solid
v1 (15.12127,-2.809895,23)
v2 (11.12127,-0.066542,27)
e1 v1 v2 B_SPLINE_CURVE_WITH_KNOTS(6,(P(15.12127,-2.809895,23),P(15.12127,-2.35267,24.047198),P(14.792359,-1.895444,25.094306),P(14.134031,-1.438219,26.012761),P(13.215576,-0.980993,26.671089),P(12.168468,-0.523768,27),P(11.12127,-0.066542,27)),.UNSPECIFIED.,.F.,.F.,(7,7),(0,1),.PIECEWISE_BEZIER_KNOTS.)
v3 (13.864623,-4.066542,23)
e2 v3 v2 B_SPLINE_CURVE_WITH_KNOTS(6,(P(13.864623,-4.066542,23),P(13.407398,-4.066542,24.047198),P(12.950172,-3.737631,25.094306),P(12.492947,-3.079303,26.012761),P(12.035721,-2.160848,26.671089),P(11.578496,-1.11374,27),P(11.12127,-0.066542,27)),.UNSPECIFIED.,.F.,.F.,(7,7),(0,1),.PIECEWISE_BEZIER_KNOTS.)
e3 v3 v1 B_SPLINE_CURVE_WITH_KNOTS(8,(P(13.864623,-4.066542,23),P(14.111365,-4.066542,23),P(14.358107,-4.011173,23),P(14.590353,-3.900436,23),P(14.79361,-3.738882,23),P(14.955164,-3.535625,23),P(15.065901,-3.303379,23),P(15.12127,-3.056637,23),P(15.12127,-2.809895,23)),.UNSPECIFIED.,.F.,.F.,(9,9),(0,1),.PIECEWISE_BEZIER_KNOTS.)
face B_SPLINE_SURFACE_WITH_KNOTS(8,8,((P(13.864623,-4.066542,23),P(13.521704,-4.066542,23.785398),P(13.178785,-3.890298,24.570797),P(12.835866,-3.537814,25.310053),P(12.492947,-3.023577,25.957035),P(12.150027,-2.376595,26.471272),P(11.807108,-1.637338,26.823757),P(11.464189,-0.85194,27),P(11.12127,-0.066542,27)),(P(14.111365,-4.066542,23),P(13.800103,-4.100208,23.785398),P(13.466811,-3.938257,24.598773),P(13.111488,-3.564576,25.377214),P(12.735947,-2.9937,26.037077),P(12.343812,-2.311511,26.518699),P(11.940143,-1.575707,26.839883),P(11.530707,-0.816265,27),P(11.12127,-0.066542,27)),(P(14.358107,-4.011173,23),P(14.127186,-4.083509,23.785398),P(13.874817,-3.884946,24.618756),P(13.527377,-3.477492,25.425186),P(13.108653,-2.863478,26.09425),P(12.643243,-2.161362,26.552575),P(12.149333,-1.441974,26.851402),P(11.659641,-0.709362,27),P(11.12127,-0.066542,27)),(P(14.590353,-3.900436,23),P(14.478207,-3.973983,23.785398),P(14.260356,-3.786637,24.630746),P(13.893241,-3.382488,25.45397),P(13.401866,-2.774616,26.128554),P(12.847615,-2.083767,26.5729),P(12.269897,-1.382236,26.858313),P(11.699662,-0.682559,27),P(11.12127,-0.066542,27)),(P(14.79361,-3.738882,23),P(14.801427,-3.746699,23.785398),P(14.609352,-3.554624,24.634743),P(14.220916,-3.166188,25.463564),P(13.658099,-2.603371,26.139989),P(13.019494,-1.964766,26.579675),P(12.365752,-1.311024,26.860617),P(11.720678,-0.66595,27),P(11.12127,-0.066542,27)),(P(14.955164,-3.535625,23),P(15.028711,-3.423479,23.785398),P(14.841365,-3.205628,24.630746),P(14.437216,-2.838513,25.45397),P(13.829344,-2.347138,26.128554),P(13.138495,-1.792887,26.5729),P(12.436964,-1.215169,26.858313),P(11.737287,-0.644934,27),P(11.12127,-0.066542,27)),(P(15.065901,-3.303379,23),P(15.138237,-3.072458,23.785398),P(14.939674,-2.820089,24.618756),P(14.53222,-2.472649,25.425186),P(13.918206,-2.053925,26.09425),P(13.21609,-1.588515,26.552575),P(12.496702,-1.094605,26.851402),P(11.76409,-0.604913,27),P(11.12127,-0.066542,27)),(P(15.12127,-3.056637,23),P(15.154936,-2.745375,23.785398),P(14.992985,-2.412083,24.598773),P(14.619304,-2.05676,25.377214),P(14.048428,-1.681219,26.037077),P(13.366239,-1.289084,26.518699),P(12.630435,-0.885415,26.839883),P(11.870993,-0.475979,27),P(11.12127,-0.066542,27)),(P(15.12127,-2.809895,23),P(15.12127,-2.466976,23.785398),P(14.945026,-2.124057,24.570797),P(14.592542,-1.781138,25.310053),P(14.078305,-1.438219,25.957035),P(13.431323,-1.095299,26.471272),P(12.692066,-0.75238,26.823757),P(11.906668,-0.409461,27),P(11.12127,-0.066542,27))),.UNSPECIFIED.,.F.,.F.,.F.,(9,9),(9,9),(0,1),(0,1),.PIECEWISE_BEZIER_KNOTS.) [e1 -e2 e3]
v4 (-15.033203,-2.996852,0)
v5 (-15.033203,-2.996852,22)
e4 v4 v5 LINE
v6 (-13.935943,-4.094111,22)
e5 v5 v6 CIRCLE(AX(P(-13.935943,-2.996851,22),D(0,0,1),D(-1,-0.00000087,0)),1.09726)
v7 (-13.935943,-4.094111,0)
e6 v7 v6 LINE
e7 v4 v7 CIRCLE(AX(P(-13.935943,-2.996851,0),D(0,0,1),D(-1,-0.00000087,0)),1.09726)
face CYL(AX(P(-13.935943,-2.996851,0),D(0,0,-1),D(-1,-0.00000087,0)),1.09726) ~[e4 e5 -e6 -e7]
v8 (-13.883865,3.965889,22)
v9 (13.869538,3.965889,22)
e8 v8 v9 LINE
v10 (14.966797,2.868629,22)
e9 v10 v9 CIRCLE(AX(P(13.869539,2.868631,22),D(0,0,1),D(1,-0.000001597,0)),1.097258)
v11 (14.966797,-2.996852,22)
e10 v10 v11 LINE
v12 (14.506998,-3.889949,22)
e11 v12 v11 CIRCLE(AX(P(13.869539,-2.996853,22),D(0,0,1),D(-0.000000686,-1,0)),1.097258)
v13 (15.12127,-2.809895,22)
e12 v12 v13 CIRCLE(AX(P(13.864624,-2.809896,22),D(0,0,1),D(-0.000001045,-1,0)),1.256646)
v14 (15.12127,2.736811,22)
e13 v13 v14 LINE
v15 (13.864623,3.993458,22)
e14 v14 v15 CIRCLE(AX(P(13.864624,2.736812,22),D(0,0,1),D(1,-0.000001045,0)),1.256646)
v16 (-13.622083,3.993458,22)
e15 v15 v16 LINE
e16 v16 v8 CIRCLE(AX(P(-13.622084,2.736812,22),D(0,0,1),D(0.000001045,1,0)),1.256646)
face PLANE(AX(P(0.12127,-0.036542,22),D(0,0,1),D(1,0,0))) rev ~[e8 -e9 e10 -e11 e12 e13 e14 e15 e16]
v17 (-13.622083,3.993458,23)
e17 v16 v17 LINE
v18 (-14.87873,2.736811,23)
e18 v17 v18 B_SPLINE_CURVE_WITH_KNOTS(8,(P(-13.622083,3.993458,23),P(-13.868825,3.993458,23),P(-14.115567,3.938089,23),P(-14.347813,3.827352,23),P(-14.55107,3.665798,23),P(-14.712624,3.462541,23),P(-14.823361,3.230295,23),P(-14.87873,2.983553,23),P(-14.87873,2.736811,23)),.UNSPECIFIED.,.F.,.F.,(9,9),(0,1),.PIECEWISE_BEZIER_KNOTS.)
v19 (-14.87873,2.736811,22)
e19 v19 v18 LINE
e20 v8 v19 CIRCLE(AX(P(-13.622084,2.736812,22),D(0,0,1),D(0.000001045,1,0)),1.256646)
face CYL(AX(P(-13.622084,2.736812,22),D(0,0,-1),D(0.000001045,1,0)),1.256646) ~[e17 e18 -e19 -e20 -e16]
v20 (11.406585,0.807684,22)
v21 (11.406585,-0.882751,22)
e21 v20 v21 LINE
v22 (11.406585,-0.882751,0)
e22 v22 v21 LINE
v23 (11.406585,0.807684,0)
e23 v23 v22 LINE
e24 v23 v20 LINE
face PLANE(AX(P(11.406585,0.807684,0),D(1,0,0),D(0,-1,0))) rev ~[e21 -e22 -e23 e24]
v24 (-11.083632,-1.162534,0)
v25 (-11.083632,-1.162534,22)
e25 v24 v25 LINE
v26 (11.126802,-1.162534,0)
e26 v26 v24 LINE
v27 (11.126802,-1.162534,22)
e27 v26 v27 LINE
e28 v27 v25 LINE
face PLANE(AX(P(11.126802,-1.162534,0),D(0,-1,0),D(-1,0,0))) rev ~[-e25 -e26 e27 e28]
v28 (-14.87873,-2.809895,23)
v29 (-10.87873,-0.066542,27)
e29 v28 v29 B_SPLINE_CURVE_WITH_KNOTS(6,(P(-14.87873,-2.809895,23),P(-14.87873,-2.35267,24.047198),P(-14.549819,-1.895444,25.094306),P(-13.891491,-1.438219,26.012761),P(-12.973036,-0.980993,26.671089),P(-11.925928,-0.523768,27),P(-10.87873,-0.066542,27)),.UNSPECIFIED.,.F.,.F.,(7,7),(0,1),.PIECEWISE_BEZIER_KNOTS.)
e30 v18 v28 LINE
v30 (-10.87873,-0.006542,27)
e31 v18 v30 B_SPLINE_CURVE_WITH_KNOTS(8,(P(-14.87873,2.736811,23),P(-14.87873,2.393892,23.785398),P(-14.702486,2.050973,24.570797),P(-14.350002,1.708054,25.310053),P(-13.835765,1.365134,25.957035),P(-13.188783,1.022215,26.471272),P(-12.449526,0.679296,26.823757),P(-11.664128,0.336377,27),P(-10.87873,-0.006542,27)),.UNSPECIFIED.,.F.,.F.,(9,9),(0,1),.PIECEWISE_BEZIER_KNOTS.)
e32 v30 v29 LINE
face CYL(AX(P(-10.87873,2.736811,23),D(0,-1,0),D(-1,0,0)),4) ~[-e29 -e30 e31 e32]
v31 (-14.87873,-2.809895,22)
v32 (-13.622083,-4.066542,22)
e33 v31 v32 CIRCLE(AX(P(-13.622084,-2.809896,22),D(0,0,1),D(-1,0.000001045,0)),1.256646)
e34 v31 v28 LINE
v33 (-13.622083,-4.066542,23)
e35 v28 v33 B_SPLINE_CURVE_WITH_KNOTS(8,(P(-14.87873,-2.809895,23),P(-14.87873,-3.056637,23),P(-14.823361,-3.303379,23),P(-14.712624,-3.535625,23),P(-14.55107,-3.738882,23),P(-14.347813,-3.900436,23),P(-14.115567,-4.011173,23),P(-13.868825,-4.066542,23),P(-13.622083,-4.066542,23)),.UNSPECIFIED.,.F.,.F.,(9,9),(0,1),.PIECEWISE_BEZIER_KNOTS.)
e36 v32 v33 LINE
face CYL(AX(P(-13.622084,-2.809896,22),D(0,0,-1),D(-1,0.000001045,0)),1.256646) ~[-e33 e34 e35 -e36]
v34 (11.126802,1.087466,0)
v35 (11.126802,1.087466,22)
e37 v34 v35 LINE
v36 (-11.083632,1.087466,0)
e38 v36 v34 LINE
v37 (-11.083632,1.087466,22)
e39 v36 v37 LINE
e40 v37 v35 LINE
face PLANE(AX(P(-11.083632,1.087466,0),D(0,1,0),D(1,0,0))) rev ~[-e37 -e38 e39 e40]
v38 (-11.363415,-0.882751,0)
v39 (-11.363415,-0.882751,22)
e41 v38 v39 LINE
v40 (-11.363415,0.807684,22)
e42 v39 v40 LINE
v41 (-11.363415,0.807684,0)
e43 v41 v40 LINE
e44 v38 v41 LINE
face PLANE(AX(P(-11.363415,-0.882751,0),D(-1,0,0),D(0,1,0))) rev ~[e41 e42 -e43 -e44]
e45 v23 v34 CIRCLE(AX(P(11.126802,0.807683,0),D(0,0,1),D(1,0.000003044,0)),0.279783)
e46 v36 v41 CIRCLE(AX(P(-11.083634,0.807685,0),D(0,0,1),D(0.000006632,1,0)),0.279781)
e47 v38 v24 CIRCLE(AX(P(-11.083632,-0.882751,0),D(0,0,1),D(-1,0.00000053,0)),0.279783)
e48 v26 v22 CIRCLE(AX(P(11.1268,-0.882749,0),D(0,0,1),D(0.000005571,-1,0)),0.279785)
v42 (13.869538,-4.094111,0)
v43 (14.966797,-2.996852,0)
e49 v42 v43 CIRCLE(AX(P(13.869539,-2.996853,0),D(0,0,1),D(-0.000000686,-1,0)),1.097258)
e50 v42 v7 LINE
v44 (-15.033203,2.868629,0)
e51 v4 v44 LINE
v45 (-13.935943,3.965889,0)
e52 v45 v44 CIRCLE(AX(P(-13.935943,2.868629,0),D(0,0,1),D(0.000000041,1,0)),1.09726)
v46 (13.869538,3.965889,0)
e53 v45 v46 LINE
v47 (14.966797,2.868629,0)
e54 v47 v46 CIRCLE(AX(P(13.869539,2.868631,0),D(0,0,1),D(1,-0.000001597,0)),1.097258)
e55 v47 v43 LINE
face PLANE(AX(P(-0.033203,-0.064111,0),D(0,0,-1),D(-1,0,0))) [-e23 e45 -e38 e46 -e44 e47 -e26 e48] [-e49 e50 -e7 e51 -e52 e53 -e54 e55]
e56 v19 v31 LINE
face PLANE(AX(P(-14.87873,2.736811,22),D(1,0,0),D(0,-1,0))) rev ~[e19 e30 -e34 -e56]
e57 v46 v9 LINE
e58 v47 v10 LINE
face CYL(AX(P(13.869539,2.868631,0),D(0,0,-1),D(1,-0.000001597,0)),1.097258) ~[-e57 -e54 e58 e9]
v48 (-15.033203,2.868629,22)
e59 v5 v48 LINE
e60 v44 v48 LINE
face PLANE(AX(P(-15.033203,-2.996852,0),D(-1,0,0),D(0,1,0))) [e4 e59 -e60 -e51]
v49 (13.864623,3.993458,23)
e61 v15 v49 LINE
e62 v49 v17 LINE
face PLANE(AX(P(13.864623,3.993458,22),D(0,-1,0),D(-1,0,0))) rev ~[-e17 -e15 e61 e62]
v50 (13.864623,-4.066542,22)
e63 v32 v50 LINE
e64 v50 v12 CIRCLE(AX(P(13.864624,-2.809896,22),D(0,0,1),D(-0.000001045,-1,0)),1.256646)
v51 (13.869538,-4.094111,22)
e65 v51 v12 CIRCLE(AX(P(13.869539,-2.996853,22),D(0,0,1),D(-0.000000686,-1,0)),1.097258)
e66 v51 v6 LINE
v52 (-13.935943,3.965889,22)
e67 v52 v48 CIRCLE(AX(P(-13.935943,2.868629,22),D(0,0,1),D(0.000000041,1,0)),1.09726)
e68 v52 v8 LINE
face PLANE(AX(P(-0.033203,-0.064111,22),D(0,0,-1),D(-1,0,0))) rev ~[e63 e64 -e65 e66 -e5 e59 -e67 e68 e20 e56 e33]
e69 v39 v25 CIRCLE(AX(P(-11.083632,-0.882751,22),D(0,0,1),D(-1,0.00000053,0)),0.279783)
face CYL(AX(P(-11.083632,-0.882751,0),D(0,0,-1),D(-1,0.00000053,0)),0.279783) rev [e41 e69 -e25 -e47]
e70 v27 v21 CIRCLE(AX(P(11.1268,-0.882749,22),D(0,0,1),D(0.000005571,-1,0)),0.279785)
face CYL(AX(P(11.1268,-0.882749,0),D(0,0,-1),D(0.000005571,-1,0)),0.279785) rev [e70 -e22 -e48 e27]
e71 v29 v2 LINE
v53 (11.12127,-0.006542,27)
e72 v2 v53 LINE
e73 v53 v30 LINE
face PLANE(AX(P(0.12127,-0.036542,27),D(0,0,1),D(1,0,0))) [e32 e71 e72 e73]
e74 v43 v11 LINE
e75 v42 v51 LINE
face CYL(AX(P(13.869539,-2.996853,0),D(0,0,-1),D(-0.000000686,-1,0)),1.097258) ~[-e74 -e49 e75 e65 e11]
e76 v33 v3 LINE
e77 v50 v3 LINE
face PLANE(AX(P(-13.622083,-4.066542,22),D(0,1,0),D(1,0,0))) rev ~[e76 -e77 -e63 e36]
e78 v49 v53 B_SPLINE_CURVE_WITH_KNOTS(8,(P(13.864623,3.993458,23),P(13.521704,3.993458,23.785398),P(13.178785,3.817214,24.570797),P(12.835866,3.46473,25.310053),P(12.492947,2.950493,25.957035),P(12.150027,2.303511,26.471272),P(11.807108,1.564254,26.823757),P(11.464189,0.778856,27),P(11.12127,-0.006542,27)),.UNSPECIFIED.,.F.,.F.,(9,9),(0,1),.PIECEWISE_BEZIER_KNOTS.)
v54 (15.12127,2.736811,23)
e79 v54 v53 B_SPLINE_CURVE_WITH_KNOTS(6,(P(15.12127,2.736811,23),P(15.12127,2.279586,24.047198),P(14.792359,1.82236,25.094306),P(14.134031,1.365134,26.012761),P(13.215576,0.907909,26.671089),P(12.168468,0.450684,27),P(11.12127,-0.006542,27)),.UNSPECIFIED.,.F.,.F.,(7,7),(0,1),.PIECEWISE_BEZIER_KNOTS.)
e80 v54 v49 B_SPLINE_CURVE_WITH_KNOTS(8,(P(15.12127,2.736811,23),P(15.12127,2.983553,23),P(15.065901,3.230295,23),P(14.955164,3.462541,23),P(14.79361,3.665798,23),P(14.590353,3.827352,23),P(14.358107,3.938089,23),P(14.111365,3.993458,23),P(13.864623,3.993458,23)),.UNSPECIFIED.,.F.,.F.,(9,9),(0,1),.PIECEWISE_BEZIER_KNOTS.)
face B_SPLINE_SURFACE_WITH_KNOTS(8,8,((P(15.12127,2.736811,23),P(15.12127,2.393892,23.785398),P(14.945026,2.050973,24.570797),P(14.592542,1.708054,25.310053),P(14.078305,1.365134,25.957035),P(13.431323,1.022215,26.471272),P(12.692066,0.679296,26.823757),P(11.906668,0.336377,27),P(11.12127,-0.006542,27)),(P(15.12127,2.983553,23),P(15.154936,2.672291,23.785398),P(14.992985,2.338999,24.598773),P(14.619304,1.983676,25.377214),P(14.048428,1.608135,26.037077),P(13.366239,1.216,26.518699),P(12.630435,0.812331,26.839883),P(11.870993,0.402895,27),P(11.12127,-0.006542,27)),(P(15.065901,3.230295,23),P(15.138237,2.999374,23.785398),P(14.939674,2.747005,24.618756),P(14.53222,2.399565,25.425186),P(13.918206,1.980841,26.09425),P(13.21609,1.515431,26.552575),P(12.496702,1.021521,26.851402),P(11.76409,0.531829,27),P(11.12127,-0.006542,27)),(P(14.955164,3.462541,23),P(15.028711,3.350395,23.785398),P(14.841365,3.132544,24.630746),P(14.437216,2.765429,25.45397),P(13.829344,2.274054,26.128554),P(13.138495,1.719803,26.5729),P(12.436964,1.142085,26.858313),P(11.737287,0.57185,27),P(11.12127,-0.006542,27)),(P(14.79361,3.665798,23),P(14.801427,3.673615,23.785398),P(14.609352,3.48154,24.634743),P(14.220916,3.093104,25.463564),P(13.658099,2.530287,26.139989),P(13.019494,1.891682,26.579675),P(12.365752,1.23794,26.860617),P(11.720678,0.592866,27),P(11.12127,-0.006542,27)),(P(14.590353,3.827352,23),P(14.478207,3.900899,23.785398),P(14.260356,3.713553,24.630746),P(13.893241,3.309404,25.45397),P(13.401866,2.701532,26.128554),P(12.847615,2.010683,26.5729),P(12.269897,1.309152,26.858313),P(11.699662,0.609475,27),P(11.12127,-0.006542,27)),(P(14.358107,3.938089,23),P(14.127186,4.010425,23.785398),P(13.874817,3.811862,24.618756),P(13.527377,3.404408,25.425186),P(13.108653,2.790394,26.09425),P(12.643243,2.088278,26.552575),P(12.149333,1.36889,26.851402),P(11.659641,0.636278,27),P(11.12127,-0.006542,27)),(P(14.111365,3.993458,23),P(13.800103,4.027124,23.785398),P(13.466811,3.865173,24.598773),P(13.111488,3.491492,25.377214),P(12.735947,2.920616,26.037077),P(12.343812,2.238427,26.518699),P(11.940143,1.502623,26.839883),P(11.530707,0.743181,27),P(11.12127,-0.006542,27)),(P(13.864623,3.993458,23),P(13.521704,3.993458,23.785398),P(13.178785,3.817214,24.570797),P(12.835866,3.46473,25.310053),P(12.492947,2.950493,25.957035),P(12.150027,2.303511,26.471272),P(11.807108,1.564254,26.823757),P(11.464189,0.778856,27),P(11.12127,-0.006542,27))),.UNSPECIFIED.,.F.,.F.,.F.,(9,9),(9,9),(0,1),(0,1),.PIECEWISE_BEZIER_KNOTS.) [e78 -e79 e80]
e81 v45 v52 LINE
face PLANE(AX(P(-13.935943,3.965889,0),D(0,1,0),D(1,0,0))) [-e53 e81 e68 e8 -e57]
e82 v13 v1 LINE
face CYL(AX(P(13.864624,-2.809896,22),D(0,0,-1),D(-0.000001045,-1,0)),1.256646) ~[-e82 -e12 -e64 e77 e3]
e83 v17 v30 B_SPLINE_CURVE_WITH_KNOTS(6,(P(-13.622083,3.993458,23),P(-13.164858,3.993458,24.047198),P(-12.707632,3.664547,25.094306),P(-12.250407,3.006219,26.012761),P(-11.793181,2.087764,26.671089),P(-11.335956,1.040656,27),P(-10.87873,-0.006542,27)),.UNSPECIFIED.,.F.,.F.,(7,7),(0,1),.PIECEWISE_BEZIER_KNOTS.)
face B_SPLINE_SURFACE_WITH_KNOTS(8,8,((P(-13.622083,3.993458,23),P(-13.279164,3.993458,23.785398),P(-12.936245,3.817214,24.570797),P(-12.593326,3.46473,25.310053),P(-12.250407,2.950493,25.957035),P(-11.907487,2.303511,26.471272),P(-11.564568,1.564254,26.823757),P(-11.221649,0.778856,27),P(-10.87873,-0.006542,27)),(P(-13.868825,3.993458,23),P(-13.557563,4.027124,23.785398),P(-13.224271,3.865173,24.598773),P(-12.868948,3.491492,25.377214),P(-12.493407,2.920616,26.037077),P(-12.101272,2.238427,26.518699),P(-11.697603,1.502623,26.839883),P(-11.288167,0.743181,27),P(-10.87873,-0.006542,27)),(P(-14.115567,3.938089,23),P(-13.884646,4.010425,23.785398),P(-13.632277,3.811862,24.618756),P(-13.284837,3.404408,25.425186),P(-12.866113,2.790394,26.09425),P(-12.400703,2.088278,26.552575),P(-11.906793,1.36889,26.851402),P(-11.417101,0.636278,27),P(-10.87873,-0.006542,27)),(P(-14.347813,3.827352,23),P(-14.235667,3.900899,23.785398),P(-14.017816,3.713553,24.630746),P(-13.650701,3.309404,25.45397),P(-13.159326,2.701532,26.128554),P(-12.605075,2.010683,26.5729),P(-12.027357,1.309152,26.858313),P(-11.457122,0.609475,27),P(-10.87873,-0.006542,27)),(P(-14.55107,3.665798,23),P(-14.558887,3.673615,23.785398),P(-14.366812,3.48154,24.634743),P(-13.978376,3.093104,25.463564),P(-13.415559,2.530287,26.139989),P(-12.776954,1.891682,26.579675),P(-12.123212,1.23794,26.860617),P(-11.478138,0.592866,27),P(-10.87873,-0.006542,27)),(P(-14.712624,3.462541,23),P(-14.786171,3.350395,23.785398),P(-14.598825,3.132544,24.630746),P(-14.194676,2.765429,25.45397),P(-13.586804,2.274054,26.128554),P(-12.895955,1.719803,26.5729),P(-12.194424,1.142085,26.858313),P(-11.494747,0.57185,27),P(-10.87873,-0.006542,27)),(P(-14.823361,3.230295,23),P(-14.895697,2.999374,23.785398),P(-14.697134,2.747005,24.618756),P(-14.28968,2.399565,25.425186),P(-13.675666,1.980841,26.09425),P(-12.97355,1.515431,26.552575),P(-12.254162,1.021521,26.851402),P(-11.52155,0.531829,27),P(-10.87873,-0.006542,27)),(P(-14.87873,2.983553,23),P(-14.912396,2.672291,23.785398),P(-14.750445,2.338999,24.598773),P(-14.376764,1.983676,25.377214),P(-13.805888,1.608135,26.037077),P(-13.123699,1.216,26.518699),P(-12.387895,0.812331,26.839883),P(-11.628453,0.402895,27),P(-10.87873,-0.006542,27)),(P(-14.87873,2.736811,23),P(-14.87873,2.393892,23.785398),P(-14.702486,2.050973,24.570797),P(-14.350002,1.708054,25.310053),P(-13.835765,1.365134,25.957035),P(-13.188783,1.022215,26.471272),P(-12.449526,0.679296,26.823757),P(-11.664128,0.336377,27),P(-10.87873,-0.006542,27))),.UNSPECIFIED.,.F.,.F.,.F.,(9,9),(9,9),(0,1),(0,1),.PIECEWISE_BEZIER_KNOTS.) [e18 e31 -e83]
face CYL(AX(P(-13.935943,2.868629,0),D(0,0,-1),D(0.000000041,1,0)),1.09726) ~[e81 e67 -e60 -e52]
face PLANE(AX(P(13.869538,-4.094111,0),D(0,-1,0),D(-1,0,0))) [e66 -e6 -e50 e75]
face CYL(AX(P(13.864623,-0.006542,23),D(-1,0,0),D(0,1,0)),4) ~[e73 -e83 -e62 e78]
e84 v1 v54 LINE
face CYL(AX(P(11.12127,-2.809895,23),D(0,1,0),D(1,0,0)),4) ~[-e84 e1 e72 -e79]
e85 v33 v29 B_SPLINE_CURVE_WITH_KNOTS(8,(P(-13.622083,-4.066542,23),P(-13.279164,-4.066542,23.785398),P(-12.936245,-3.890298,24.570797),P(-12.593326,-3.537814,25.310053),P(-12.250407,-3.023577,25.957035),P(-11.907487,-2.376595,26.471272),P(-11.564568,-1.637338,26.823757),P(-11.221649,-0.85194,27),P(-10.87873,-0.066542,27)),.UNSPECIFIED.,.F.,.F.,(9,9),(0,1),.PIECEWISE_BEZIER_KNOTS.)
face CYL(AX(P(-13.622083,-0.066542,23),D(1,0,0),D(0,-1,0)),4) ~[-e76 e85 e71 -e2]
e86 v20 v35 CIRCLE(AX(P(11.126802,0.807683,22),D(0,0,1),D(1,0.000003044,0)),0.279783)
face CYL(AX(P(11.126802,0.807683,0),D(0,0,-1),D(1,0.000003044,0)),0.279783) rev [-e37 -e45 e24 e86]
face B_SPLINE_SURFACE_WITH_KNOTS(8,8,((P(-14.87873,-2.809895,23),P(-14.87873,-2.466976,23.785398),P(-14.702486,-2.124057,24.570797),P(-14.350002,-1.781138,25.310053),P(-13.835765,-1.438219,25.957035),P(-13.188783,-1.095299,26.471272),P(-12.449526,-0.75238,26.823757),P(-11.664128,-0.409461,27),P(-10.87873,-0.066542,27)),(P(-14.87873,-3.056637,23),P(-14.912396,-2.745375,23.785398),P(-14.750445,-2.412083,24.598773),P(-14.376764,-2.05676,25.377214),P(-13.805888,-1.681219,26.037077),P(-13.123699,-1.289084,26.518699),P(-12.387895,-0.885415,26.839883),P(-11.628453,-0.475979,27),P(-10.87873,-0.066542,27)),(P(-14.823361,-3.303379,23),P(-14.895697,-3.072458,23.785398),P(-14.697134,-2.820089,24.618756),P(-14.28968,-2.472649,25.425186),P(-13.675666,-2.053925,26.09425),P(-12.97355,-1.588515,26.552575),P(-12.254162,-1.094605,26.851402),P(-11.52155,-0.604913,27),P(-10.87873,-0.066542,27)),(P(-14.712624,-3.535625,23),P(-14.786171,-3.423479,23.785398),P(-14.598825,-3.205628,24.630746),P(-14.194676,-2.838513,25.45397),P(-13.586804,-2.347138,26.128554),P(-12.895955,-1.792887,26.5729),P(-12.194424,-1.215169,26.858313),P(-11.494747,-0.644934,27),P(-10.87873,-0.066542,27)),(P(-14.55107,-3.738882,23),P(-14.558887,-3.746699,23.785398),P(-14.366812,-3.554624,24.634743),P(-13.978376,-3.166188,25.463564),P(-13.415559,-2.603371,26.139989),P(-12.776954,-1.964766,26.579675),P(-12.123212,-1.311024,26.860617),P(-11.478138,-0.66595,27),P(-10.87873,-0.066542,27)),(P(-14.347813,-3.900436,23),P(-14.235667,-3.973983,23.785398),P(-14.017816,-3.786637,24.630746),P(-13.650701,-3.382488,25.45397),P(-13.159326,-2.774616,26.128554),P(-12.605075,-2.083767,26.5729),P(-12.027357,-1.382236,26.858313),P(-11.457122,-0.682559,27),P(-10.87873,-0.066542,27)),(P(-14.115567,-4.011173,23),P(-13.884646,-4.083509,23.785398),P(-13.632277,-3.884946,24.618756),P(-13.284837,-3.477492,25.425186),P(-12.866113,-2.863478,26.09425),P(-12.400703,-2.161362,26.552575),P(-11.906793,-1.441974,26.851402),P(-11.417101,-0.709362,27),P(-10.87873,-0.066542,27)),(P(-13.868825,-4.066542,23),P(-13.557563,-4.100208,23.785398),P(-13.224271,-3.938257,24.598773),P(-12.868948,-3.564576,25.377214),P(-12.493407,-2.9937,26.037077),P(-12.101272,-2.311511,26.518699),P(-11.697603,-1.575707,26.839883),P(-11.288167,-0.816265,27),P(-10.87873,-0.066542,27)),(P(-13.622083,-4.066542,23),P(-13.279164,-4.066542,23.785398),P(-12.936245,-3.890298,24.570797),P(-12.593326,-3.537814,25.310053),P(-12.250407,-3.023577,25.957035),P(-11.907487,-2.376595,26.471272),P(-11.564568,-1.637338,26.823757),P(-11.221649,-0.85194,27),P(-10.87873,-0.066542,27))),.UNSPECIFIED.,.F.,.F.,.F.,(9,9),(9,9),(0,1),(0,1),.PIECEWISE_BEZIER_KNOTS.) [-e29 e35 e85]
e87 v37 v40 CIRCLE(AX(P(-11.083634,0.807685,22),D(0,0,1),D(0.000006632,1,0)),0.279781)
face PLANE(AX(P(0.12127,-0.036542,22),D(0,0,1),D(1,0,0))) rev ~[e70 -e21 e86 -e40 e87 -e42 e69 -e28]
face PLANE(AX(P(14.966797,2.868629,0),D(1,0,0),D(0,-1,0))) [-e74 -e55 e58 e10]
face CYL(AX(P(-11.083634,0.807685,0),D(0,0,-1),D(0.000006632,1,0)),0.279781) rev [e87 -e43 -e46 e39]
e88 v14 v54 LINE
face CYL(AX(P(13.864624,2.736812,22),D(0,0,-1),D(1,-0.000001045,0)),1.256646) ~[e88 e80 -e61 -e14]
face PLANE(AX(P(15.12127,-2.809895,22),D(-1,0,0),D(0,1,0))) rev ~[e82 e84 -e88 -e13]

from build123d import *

# Parameters (mm, degrees)
PAD_DEPTH    = 22
PAD001_DEPTH = 5
FILLET_R     = 4


with BuildPart() as part:
    # Sketch → Pad (new body)
    with BuildSketch(Plane.XY):
        with BuildLine():
            Line((-15.033203, -2.996852), (-15.033203, 2.868629))
            ThreePointArc((-13.935943, 3.965889), (-14.711823, 3.644509), (-15.033203, 2.868629))
            Line((-13.935943, 3.965889), (13.869538, 3.965889))
            ThreePointArc((14.966797, 2.868629), (14.645418, 3.644509), (13.869538, 3.965889))
            Line((14.966797, 2.868629), (14.966797, -2.996852))
            ThreePointArc((13.869538, -4.094111), (14.645418, -3.772731), (14.966797, -2.996852))
            Line((13.869538, -4.094111), (-13.935943, -4.094111))
            ThreePointArc((-15.033203, -2.996852), (-14.711823, -3.772731), (-13.935943, -4.094111))
        make_face()
        with BuildLine():
            Line((-11.363415, -0.882751), (-11.363415, 0.807684))
            ThreePointArc((-11.083632, 1.087466), (-11.281469, 1.00552), (-11.363415, 0.807684))
            Line((-11.083632, 1.087466), (11.126802, 1.087466))
            ThreePointArc((11.406585, 0.807684), (11.324638, 1.00552), (11.126802, 1.087466))
            Line((11.406585, 0.807684), (11.406585, -0.882751))
            ThreePointArc((11.126802, -1.162534), (11.324638, -1.080587), (11.406585, -0.882751))
            Line((11.126802, -1.162534), (-11.083632, -1.162534))
            ThreePointArc((-11.363415, -0.882751), (-11.281469, -1.080587), (-11.083632, -1.162534))
        make_face(mode=Mode.SUBTRACT)
    extrude(amount=PAD_DEPTH)

    # Sketch001 (on Face18 of Pad) → Pad001 (join)
    with BuildSketch(Plane.XY.offset(22)):
        with BuildLine():
            Line((15.12127, -2.809895), (15.12127, 2.736811))
            ThreePointArc((15.12127, 2.736811), (14.753207, 3.625395), (13.864623, 3.993458))
            Line((13.864623, 3.993458), (-13.622083, 3.993458))
            ThreePointArc((-13.622083, 3.993458), (-14.510667, 3.625395), (-14.87873, 2.736811))
            Line((-14.87873, 2.736811), (-14.87873, -2.809895))
            ThreePointArc((-14.87873, -2.809895), (-14.510667, -3.698479), (-13.622083, -4.066542))
            Line((-13.622083, -4.066542), (13.864623, -4.066542))
            ThreePointArc((13.864623, -4.066542), (14.753207, -3.698479), (15.12127, -2.809895))
        make_face()
    extrude(amount=PAD001_DEPTH)

    # Fillet
    fillet_edges = [part.edges().sort_by_distance(p)[0] for p in [
        (15.12127, -0.036542, 27),
        (14.753207, 3.625395, 27),
        (0.12127, 3.993458, 27),
        (-14.510667, 3.625395, 27),
        (-14.87873, -0.036542, 27),
        (-14.510667, -3.698479, 27),
        (0.12127, -4.066542, 27),
        (14.753207, -3.698479, 27),
    ]]
    fillet(fillet_edges, radius=FILLET_R)


solid = part.part
